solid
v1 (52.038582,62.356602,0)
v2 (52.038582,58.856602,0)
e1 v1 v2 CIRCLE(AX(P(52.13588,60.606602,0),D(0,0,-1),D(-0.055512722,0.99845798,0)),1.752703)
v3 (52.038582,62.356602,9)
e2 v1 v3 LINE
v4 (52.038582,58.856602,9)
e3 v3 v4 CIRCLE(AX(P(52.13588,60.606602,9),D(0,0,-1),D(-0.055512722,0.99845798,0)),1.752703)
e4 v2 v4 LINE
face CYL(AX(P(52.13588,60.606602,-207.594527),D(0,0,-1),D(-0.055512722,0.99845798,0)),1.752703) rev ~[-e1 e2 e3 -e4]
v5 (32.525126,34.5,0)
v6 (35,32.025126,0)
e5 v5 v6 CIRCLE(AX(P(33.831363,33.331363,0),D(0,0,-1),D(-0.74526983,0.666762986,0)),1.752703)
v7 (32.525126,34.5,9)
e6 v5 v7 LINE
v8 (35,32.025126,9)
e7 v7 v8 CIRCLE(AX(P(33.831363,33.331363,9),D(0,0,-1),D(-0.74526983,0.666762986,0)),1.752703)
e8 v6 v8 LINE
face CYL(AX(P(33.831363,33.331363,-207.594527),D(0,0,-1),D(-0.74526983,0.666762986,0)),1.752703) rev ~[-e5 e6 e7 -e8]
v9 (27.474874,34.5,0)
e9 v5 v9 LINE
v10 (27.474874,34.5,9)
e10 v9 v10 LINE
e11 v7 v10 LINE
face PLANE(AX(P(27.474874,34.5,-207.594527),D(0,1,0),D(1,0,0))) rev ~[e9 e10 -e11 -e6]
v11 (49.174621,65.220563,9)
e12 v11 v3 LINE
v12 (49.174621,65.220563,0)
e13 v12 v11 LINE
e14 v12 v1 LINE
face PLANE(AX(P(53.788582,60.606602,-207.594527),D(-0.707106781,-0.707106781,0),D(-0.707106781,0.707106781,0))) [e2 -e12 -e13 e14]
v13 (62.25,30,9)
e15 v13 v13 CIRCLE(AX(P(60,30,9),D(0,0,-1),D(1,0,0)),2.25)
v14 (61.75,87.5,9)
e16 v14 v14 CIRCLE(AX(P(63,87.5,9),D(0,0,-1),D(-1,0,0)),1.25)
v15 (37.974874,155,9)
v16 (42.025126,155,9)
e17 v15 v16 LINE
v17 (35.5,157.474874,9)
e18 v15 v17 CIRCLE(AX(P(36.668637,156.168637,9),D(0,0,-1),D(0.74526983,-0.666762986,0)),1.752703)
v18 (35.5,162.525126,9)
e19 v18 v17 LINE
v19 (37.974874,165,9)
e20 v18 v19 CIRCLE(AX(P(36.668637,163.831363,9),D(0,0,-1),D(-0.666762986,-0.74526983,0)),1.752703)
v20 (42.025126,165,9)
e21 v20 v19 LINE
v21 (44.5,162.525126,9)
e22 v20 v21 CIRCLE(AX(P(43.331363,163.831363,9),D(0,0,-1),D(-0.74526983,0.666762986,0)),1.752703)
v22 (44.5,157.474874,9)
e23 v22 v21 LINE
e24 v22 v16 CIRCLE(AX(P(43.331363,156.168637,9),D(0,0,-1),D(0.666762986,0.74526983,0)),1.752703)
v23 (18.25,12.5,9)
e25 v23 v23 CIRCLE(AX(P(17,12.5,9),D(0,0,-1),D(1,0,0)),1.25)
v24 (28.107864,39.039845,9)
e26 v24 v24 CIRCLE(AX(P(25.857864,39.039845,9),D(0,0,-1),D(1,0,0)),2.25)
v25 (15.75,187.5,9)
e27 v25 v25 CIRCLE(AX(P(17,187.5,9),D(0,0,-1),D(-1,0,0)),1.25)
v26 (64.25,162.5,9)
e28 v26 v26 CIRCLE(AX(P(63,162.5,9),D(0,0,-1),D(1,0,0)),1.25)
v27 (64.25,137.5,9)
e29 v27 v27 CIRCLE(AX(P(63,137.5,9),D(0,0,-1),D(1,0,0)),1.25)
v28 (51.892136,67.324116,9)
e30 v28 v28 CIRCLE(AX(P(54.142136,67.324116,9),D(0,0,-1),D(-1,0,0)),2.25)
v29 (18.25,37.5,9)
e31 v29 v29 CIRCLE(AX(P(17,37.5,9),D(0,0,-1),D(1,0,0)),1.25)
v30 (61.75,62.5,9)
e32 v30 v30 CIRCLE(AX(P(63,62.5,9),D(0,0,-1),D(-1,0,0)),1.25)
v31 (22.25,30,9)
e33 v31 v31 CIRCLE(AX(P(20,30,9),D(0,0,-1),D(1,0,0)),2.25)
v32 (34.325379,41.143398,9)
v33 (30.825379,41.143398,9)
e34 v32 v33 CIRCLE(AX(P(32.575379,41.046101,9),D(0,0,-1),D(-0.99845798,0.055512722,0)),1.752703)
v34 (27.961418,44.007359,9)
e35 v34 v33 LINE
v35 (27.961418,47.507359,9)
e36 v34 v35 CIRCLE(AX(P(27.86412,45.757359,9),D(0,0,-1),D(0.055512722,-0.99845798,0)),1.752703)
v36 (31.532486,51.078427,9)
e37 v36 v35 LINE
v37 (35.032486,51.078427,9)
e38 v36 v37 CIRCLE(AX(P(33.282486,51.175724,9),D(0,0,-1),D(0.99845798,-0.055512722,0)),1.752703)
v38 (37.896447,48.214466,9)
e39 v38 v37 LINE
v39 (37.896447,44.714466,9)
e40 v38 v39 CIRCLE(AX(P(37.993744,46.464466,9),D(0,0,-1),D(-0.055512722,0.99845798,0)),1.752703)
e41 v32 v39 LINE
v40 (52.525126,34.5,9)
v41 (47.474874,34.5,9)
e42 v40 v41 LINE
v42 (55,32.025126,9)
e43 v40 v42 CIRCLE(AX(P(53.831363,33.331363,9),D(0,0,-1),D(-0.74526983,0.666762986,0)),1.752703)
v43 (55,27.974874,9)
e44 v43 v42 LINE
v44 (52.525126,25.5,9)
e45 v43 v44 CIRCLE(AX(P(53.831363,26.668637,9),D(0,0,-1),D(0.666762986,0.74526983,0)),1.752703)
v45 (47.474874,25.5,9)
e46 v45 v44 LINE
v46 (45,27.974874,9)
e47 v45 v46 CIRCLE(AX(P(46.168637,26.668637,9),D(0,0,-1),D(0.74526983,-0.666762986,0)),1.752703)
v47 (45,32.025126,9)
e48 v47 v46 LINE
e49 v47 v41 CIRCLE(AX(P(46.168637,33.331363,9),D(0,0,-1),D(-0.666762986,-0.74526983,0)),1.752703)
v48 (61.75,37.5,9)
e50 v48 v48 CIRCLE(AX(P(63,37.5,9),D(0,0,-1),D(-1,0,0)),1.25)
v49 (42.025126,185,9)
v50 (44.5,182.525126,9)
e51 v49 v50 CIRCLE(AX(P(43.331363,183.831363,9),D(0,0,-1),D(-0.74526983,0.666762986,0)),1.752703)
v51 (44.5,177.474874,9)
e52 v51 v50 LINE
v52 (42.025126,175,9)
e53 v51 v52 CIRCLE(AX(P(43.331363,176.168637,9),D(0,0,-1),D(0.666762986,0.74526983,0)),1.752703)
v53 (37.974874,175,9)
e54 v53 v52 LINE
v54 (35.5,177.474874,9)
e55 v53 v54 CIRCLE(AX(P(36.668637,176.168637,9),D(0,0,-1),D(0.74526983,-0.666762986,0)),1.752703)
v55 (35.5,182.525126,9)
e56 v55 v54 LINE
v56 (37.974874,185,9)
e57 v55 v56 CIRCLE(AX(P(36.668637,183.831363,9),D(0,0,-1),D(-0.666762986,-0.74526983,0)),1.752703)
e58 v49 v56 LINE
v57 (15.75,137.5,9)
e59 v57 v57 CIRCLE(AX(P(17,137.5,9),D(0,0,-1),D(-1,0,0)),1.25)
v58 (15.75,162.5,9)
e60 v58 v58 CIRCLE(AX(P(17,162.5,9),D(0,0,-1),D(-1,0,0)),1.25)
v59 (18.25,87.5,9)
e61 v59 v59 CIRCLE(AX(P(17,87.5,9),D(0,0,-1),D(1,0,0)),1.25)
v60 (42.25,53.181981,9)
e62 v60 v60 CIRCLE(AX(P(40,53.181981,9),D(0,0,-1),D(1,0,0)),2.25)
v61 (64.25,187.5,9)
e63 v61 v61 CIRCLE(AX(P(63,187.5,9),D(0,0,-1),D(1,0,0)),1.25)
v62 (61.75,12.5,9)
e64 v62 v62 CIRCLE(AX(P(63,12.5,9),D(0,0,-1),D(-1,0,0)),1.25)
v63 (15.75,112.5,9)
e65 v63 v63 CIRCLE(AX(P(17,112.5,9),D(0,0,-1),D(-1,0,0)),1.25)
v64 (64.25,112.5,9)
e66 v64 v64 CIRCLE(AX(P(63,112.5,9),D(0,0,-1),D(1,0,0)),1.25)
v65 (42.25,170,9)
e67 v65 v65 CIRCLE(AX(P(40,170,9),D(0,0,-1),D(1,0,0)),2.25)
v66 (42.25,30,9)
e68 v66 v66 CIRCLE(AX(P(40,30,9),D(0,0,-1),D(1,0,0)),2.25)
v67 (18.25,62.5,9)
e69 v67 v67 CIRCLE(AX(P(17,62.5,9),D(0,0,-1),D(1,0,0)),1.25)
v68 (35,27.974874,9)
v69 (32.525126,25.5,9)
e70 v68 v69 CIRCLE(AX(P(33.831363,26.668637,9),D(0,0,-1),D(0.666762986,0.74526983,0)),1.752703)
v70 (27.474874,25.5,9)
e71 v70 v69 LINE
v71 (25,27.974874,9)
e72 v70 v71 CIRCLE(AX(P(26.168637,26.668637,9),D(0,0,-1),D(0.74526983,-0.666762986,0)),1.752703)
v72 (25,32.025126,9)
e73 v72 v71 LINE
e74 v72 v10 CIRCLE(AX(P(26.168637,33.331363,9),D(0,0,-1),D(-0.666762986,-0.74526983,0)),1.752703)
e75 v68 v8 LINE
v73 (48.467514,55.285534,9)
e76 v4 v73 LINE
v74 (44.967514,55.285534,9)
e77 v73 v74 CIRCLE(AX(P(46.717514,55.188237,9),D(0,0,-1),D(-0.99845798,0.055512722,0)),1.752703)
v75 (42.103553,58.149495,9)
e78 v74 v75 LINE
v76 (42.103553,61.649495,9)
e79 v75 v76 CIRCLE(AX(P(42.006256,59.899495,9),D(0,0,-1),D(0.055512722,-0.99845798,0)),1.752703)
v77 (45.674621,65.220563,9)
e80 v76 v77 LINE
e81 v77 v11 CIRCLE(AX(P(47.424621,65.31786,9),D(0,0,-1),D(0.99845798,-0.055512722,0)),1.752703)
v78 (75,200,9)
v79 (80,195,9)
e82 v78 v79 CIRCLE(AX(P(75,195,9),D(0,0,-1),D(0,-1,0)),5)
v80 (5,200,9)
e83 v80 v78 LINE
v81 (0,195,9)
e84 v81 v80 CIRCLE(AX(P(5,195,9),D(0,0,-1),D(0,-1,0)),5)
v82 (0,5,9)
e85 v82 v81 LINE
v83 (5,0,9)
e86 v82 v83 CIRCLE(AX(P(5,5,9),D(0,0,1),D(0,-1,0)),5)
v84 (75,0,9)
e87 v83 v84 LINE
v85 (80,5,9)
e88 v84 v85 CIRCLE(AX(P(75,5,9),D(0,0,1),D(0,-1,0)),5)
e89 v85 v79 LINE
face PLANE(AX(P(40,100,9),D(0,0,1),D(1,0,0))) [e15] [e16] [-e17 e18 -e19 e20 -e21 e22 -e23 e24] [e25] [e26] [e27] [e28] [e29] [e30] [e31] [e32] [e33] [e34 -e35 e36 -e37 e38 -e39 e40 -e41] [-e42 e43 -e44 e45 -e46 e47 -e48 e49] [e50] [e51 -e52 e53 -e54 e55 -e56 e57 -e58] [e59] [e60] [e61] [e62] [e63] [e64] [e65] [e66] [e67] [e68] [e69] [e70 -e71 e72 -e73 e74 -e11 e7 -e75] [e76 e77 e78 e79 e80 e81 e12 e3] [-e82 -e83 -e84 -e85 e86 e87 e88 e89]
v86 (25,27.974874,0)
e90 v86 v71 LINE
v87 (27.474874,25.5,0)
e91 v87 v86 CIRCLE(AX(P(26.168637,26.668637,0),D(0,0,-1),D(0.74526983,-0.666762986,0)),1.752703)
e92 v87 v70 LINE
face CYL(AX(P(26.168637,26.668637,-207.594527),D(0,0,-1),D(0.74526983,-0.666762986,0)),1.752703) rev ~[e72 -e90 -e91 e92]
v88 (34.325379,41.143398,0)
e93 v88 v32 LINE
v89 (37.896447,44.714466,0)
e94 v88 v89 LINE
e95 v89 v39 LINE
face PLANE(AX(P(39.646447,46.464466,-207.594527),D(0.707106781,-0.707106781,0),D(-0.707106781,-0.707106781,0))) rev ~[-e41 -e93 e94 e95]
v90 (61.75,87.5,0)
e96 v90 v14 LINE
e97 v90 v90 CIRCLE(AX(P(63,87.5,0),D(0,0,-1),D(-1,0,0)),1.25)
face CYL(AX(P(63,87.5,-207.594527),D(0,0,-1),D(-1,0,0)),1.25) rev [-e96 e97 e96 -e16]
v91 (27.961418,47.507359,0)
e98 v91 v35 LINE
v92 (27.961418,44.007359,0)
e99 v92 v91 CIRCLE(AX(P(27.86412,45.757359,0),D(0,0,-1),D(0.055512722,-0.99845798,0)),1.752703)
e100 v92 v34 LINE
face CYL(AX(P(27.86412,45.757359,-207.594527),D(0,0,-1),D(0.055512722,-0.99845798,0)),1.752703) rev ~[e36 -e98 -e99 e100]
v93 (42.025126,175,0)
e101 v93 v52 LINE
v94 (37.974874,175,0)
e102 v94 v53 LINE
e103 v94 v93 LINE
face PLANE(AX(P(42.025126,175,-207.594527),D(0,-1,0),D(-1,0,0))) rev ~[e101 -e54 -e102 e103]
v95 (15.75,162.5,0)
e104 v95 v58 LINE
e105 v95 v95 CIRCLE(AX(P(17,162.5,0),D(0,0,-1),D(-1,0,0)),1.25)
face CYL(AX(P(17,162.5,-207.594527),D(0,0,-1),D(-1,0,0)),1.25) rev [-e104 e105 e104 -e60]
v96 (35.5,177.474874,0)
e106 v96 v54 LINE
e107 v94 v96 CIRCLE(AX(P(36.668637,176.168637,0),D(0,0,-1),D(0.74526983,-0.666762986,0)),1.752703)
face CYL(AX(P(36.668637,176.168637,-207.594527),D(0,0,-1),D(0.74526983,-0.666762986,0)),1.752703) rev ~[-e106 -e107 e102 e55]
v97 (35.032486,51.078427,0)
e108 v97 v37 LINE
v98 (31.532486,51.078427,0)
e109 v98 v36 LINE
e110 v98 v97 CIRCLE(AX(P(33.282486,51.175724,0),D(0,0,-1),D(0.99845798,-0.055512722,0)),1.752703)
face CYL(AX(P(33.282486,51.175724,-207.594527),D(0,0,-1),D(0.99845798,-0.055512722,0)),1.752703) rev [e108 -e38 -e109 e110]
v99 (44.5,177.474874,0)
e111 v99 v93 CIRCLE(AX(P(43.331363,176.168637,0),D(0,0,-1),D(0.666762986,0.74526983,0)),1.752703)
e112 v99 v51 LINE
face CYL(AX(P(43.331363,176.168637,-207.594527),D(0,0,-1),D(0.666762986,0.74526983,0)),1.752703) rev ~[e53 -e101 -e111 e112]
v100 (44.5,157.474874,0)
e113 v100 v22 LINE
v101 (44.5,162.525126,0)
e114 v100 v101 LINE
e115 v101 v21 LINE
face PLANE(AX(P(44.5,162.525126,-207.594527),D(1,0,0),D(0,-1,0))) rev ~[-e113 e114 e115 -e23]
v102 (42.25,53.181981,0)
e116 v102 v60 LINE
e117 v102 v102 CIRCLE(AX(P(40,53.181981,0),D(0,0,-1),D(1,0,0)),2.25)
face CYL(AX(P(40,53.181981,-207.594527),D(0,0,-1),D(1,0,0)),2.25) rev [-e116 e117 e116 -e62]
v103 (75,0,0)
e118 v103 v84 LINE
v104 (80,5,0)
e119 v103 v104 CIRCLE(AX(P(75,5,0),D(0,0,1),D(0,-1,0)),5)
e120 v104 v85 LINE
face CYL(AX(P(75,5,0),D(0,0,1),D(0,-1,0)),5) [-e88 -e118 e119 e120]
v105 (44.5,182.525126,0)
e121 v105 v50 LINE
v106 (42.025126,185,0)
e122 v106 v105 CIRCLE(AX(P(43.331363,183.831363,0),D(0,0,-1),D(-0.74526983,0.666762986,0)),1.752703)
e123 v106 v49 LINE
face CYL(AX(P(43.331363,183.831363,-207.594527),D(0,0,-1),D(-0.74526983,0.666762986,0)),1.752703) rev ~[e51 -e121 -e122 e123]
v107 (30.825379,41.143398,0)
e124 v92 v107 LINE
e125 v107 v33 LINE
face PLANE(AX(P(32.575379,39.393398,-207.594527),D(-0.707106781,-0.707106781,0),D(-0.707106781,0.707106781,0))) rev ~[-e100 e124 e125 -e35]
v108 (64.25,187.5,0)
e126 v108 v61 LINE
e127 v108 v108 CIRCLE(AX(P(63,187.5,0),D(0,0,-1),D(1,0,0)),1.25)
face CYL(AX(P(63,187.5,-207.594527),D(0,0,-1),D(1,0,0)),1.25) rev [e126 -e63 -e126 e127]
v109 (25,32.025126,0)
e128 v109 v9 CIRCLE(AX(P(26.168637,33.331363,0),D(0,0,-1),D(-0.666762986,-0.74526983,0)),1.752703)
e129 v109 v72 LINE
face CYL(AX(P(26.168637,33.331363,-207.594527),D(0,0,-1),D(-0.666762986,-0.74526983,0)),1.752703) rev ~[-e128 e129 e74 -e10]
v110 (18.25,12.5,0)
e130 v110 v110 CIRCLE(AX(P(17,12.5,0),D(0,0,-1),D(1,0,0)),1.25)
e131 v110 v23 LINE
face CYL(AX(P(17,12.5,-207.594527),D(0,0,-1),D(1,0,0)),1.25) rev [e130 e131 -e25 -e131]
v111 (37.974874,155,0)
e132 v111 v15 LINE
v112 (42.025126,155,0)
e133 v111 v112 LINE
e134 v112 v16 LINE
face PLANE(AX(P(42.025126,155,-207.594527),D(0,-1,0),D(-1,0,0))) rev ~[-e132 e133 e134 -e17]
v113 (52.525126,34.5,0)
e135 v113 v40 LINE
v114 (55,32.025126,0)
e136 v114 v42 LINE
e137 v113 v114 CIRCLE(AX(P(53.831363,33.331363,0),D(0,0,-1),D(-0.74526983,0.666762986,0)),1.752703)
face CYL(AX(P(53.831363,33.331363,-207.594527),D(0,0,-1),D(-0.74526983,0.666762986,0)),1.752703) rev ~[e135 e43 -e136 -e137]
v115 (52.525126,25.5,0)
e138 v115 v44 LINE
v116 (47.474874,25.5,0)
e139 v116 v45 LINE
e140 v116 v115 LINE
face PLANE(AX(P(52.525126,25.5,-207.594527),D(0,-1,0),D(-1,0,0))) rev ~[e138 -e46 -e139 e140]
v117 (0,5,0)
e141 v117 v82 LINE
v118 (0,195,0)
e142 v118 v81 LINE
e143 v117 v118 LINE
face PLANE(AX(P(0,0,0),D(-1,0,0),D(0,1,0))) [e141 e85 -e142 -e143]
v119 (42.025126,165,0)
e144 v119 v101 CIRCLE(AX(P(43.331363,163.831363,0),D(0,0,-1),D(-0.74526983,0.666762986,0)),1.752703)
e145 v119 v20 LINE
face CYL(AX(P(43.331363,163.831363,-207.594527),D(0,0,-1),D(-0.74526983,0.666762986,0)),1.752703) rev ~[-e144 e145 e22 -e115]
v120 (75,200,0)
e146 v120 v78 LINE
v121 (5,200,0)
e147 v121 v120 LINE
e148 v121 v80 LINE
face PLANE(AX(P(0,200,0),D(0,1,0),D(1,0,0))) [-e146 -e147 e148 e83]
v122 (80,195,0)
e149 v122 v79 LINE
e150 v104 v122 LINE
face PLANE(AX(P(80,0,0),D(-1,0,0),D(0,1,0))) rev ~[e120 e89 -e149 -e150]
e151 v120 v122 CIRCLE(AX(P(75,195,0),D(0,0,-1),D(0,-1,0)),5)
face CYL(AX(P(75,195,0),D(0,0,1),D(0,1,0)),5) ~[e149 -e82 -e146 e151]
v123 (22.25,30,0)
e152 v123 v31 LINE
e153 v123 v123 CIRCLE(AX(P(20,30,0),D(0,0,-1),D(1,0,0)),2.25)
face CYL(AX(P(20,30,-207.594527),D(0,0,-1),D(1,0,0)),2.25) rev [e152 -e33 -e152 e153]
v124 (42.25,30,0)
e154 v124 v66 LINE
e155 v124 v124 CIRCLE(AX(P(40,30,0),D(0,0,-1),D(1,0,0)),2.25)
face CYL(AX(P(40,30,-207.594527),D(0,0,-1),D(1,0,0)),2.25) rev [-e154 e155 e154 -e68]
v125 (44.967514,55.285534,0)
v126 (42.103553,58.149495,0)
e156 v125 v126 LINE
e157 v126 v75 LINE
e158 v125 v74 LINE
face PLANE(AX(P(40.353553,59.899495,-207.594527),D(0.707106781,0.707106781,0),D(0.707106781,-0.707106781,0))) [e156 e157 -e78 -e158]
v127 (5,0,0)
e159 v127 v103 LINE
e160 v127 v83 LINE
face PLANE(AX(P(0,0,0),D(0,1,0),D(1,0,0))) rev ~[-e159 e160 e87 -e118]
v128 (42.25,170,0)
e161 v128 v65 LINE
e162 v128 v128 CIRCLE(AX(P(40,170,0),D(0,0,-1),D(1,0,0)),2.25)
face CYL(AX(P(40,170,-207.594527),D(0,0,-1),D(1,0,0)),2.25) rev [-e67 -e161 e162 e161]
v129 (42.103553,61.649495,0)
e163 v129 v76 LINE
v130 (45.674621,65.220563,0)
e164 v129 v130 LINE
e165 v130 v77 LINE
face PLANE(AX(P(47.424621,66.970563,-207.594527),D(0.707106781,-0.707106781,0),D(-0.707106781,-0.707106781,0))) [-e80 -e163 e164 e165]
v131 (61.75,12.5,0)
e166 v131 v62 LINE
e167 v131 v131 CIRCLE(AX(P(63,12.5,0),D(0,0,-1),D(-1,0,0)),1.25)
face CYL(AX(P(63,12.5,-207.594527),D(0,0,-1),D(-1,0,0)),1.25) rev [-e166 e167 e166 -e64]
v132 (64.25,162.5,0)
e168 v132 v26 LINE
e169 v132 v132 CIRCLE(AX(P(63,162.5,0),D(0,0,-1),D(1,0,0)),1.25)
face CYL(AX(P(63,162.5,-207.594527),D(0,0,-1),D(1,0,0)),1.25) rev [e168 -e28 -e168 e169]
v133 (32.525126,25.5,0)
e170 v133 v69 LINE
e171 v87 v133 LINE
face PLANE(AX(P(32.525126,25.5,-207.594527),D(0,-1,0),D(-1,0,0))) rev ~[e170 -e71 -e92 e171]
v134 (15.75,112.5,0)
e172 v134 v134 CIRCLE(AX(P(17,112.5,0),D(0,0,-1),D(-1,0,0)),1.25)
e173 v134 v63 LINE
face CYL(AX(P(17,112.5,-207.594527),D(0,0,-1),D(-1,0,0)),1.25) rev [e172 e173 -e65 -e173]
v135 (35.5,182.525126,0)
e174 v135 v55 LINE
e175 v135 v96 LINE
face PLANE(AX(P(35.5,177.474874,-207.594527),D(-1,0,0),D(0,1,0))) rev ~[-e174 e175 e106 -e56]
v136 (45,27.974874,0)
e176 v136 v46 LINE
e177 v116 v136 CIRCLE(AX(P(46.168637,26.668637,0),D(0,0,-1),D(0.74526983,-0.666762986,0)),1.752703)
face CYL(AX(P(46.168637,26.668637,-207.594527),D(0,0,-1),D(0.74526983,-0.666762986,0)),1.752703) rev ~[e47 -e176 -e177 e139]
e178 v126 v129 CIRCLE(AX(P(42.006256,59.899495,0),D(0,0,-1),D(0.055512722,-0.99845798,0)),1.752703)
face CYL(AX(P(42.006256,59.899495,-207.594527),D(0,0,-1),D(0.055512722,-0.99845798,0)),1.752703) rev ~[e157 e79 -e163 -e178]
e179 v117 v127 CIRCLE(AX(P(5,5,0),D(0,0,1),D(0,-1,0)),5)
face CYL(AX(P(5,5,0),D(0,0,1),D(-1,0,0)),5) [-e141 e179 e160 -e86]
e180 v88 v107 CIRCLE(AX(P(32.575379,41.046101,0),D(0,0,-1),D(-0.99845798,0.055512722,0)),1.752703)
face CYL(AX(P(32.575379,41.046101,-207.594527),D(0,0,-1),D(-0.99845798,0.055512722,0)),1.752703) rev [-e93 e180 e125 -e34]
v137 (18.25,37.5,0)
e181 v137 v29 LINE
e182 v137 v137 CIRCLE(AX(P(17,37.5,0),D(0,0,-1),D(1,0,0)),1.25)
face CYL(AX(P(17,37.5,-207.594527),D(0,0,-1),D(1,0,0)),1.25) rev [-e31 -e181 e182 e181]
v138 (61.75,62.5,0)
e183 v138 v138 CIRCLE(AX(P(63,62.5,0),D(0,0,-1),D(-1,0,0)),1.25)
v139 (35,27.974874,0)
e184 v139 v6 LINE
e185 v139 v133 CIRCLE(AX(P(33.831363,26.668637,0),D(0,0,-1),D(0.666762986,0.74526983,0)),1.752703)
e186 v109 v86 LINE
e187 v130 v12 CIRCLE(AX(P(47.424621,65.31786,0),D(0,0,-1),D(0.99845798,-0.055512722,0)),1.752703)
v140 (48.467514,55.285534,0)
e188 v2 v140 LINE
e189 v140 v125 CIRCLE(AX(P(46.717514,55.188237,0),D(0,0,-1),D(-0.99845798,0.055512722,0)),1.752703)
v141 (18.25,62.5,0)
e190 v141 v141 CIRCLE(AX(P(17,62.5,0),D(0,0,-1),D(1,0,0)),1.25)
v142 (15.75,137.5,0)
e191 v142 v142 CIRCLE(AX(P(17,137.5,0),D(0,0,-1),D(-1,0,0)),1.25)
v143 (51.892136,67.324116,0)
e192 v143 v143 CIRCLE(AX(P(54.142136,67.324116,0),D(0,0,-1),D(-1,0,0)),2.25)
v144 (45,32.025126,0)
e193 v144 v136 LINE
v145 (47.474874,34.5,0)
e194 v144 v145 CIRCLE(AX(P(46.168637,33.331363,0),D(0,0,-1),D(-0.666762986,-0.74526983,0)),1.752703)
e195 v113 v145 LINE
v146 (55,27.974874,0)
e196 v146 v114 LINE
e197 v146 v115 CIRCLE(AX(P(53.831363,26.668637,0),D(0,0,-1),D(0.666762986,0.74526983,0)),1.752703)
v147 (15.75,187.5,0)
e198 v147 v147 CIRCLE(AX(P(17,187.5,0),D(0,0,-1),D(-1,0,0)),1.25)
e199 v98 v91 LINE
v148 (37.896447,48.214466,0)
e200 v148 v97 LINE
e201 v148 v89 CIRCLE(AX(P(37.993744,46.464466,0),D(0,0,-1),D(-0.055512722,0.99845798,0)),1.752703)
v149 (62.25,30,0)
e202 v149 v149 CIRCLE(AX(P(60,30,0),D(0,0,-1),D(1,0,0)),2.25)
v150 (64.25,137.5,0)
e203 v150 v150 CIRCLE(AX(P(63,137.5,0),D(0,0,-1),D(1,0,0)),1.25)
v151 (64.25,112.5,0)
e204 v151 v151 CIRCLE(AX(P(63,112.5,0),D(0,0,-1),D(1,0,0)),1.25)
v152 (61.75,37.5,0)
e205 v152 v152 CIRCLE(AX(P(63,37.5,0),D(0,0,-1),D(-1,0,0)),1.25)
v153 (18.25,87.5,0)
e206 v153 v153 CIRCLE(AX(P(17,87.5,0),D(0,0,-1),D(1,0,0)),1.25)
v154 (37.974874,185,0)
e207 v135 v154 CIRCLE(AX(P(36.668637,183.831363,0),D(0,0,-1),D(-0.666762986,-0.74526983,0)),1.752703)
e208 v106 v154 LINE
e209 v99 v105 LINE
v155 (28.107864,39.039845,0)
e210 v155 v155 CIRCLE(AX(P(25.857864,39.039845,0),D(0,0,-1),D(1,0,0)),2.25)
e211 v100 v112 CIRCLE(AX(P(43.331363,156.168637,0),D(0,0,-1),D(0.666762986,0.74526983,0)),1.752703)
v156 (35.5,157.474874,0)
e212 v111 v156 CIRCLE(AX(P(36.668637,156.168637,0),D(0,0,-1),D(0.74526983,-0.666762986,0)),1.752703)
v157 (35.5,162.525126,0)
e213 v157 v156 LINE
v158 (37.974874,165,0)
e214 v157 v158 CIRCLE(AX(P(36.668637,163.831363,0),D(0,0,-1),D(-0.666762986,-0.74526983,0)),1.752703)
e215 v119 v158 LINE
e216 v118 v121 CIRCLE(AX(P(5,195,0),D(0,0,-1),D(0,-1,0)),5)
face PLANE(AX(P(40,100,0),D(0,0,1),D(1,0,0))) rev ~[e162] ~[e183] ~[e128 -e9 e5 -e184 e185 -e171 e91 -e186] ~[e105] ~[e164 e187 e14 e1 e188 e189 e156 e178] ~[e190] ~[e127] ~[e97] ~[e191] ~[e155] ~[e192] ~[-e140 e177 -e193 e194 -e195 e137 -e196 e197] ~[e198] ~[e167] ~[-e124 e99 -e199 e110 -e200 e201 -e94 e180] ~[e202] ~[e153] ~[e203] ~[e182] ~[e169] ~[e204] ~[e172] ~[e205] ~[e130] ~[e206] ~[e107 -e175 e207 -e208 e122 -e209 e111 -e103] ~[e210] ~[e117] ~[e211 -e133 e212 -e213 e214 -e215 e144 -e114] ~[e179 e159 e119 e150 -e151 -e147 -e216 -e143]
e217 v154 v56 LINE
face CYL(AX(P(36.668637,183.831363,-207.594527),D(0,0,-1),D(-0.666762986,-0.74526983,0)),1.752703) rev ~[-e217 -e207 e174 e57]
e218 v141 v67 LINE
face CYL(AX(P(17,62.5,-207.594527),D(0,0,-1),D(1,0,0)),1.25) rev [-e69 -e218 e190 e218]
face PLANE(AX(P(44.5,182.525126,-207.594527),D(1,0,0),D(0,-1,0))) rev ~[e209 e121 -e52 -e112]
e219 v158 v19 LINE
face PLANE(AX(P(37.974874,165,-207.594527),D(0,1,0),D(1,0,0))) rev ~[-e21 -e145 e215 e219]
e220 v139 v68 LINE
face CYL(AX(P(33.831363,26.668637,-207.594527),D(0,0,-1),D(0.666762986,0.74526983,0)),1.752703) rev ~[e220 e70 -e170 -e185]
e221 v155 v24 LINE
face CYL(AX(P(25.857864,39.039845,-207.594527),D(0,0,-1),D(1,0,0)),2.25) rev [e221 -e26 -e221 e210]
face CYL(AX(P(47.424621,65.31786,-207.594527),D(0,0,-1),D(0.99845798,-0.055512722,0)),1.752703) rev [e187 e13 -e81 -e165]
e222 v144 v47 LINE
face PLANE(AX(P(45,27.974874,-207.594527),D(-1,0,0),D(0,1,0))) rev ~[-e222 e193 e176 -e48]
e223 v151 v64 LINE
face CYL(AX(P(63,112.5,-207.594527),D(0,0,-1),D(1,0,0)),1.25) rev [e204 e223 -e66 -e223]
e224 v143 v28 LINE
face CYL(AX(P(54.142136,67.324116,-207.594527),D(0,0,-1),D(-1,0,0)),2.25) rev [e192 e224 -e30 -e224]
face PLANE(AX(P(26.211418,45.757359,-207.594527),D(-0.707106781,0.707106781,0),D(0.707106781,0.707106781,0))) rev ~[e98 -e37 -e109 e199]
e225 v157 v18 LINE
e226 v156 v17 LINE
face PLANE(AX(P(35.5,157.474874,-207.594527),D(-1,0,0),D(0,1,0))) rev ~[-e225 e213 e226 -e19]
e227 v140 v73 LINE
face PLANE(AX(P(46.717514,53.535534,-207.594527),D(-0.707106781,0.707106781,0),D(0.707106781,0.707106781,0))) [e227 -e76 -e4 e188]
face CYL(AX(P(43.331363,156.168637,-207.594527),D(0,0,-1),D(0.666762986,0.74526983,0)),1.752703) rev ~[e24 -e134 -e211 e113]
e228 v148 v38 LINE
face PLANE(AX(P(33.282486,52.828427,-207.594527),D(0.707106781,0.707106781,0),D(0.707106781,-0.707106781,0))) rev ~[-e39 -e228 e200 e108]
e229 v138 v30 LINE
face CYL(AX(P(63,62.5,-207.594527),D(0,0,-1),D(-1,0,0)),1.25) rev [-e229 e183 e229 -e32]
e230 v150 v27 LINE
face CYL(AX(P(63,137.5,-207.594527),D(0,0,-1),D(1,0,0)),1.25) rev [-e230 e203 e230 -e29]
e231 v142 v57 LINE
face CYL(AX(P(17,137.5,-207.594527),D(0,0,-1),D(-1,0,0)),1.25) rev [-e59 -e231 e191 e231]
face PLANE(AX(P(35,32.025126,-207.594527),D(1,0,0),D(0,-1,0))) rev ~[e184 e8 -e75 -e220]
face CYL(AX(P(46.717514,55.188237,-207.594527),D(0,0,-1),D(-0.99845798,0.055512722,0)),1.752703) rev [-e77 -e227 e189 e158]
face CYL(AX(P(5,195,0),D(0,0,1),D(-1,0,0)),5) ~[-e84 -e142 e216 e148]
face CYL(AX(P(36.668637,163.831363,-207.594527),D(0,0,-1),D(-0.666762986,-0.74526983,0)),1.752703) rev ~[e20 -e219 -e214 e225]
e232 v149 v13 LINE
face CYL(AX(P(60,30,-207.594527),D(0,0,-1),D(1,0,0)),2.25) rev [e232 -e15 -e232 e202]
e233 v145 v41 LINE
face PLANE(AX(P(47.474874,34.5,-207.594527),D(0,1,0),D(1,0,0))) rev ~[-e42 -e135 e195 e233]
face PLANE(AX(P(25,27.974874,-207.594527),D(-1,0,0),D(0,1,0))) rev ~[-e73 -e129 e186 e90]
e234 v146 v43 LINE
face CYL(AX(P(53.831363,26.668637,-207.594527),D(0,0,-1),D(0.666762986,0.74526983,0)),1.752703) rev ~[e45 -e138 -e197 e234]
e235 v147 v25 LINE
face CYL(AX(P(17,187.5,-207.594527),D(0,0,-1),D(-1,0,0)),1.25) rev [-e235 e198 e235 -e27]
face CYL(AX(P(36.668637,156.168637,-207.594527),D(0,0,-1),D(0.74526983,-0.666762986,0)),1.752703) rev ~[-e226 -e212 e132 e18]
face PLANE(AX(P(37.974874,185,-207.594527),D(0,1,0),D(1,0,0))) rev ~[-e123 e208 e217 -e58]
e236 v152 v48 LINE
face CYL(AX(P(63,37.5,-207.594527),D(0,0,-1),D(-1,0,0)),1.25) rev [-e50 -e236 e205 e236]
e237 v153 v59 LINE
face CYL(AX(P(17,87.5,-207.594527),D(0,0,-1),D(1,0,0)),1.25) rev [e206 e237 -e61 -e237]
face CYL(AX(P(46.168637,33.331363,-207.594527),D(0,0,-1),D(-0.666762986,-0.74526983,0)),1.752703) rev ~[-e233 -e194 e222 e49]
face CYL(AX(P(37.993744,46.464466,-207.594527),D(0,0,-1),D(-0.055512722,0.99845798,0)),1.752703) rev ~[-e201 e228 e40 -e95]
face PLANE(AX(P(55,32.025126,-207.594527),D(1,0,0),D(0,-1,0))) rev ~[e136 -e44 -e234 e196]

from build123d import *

# Parameters (mm, degrees)
ESQUISSE1_W                  = 80
ESQUISSE1_H                  = 200
BOSS_EXTRU_1_DEPTH           = 9
ENL_V_MAT_EXTRU_1_DEPTH      = 216.594526832
ENL_V_MAT_EXTRU_1_DEPTH_BACK = 216.594526832
ESQUISSE2_R                  = 1.25
ENL_V_MAT_EXTRU_2_DEPTH      = 216.594526832
ENL_V_MAT_EXTRU_2_DEPTH_BACK = 216.594526832
CONG_1_R                     = 5
ENL_V_MAT_EXTRU_3_DEPTH      = 216.594526832
ENL_V_MAT_EXTRU_3_DEPTH_BACK = 216.594526832
ESQUISSE4_R                  = 2.25
ENL_V_MAT_EXTRU_4_DEPTH      = 216.594526832
ENL_V_MAT_EXTRU_4_DEPTH_BACK = 216.594526832
ESQUISSE5_R                  = 2.25


with BuildPart() as part:
    # Esquisse1 → Boss.-Extru.1 (new body)
    with BuildSketch(Plane.XY):
        with Locations((40, 100)):
            Rectangle(ESQUISSE1_W, ESQUISSE1_H)
    extrude(amount=BOSS_EXTRU_1_DEPTH)

    # Esquisse2 → Enlèv. mat.-Extru.1 (cut, two sides: drawn at the far end of the back side and taken through both)
    with BuildSketch(Plane.XY.offset(9).offset(-ENL_V_MAT_EXTRU_1_DEPTH_BACK)):
        with Locations(Location((17, 187.5, 0), (0, 0, 180))):
            Circle(ESQUISSE2_R)
        with Locations((17, 87.5)):
            Circle(ESQUISSE2_R)
        with Locations((17, 62.5)):
            Circle(ESQUISSE2_R)
        with Locations((17, 37.5)):
            Circle(ESQUISSE2_R)
        with Locations((17, 12.5)):
            Circle(ESQUISSE2_R)
        with Locations(Location((17, 162.5, 0), (0, 0, 180))):
            Circle(ESQUISSE2_R)
        with Locations(Location((17, 137.5, 0), (0, 0, 180))):
            Circle(ESQUISSE2_R)
        with Locations(Location((17, 112.5, 0), (0, 0, 180))):
            Circle(ESQUISSE2_R)
        with Locations((63, 112.5)):
            Circle(ESQUISSE2_R)
        with Locations((63, 137.5)):
            Circle(ESQUISSE2_R)
        with Locations((63, 162.5)):
            Circle(ESQUISSE2_R)
        with Locations(Location((63, 12.5, 0), (0, 0, 180))):
            Circle(ESQUISSE2_R)
        with Locations(Location((63, 37.5, 0), (0, 0, 180))):
            Circle(ESQUISSE2_R)
        with Locations(Location((63, 62.5, 0), (0, 0, 180))):
            Circle(ESQUISSE2_R)
        with Locations(Location((63, 87.5, 0), (0, 0, 180))):
            Circle(ESQUISSE2_R)
        with Locations((63, 187.5)):
            Circle(ESQUISSE2_R)
    extrude(amount=ENL_V_MAT_EXTRU_1_DEPTH + ENL_V_MAT_EXTRU_1_DEPTH_BACK, mode=Mode.SUBTRACT)

    # Esquisse3 → Enlèv. mat.-Extru.2 (cut, two sides: drawn at the far end of the back side and taken through both)
    with BuildSketch(Plane.XY.offset(9).offset(-ENL_V_MAT_EXTRU_2_DEPTH_BACK)):
        Polygon((46.717514421, 53.535533906), (53.788582233, 60.606601718), (47.424621202, 66.970562748), (40.353553391, 59.899494937), align=None)
        Polygon((33.282485579, 52.828427125), (39.646446609, 46.464466094), (32.575378798, 39.393398282), (26.211417767, 45.757359313), align=None)
    extrude(amount=ENL_V_MAT_EXTRU_2_DEPTH + ENL_V_MAT_EXTRU_2_DEPTH_BACK, mode=Mode.SUBTRACT)

    # Congé1
    cong_1_edges = [part.edges().sort_by_distance(p)[0] for p in [
        (0, 200, 4.5),
        (80, 200, 4.5),
        (80, 0, 4.5),
        (0, 0, 4.5),
    ]]
    fillet(cong_1_edges, radius=CONG_1_R)

    # Esquisse4 → Enlèv. mat.-Extru.3 (cut, two sides: drawn at the far end of the back side and taken through both)
    with BuildSketch(Plane.XY.offset(9).offset(-ENL_V_MAT_EXTRU_3_DEPTH_BACK)):
        with Locations((40, 53.181980515)):
            Circle(ESQUISSE4_R)
        with Locations((25.857864376, 39.039844892)):
            Circle(ESQUISSE4_R)
        with Locations(Location((54.142135624, 67.324116139, 0), (0, 0, 180))):
            Circle(ESQUISSE4_R)
        with BuildLine():
            Line((27.961417767, 47.507359313), (27.961417767, 44.007359313))
            ThreePointArc((27.961417767, 44.007359313), (26.111417767, 45.757359313), (27.961417767, 47.507359313))
        make_face()
        with BuildLine():
            Line((31.532485579, 51.078427125), (35.032485579, 51.078427125))
            ThreePointArc((35.032485579, 51.078427125), (33.282485579, 52.928427125), (31.532485579, 51.078427125))
        make_face()
        with BuildLine():
            Line((37.896446609, 44.714466094), (37.896446609, 48.214466094))
            ThreePointArc((37.896446609, 48.214466094), (39.746446609, 46.464466094), (37.896446609, 44.714466094))
        make_face()
        with BuildLine():
            Line((34.325378798, 41.143398282), (30.825378798, 41.143398282))
            ThreePointArc((30.825378798, 41.143398282), (32.575378798, 39.293398282), (34.325378798, 41.143398282))
        make_face()
        with BuildLine():
            Line((52.038582233, 58.856601718), (52.038582233, 62.356601718))
            ThreePointArc((52.038582233, 62.356601718), (53.888582233, 60.606601718), (52.038582233, 58.856601718))
        make_face()
        with BuildLine():
            Line((48.467514421, 55.285533906), (44.967514421, 55.285533906))
            ThreePointArc((44.967514421, 55.285533906), (46.717514421, 53.435533906), (48.467514421, 55.285533906))
        make_face()
        with BuildLine():
            Line((42.103553391, 61.649494937), (42.103553391, 58.149494937))
            ThreePointArc((42.103553391, 58.149494937), (40.253553391, 59.899494937), (42.103553391, 61.649494937))
        make_face()
        with BuildLine():
            Line((45.674621202, 65.220562748), (49.174621202, 65.220562748))
            ThreePointArc((49.174621202, 65.220562748), (47.424621202, 67.070562748), (45.674621202, 65.220562748))
        make_face()
    extrude(amount=ENL_V_MAT_EXTRU_3_DEPTH + ENL_V_MAT_EXTRU_3_DEPTH_BACK, mode=Mode.SUBTRACT)

    # Esquisse5 → Enlèv. mat.-Extru.4 (cut, two sides: drawn at the far end of the back side and taken through both)
    with BuildSketch(Plane.XY.offset(9).offset(-ENL_V_MAT_EXTRU_4_DEPTH_BACK)):
        with Locations((60, 30)):
            Circle(ESQUISSE5_R)
        with Locations((40, 30)):
            Circle(ESQUISSE5_R)
        with Locations((20, 30)):
            Circle(ESQUISSE5_R)
        with Locations((40, 170)):
            Circle(ESQUISSE5_R)
        with BuildLine():
            Line((52.525126266, 25.5), (47.474873734, 25.5))
            ThreePointArc((47.474873734, 25.5), (44.929289322, 25.429289322), (45, 27.974873734))
            Line((45, 27.974873734), (45, 32.025126266))
            ThreePointArc((45, 32.025126266), (44.929289322, 34.570710678), (47.474873734, 34.5))
            Line((47.474873734, 34.5), (52.525126266, 34.5))
            ThreePointArc((52.525126266, 34.5), (55.070710678, 34.570710678), (55, 32.025126266))
            Line((55, 32.025126266), (55, 27.974873734))
            ThreePointArc((55, 27.974873734), (55.070710678, 25.429289322), (52.525126266, 25.5))
        make_face()
        with BuildLine():
            Line((32.525126266, 25.5), (27.474873734, 25.5))
            ThreePointArc((27.474873734, 25.5), (24.929289322, 25.429289322), (25, 27.974873734))
            Line((25, 27.974873734), (25, 32.025126266))
            ThreePointArc((25, 32.025126266), (24.929289322, 34.570710678), (27.474873734, 34.5))
            Line((27.474873734, 34.5), (32.525126266, 34.5))
            ThreePointArc((32.525126266, 34.5), (35.070710678, 34.570710678), (35, 32.025126266))
            Line((35, 32.025126266), (35, 27.974873734))
            ThreePointArc((35, 27.974873734), (35.070710678, 25.429289322), (32.525126266, 25.5))
        make_face()
        with BuildLine():
            Line((44.5, 182.525126266), (44.5, 177.474873734))
            ThreePointArc((44.5, 177.474873734), (44.570710678, 174.929289322), (42.025126266, 175))
            Line((42.025126266, 175), (37.974873734, 175))
            ThreePointArc((37.974873734, 175), (35.429289322, 174.929289322), (35.5, 177.474873734))
            Line((35.5, 177.474873734), (35.5, 182.525126266))
            ThreePointArc((35.5, 182.525126266), (35.429289322, 185.070710678), (37.974873734, 185))
            Line((37.974873734, 185), (42.025126266, 185))
            ThreePointArc((42.025126266, 185), (44.570710678, 185.070710678), (44.5, 182.525126266))
        make_face()
        with BuildLine():
            Line((44.5, 162.525126266), (44.5, 157.474873734))
            ThreePointArc((44.5, 157.474873734), (44.570710678, 154.929289322), (42.025126266, 155))
            Line((42.025126266, 155), (37.974873734, 155))
            ThreePointArc((37.974873734, 155), (35.429289322, 154.929289322), (35.5, 157.474873734))
            Line((35.5, 157.474873734), (35.5, 162.525126266))
            ThreePointArc((35.5, 162.525126266), (35.429289322, 165.070710678), (37.974873734, 165))
            Line((37.974873734, 165), (42.025126266, 165))
            ThreePointArc((42.025126266, 165), (44.570710678, 165.070710678), (44.5, 162.525126266))
        make_face()
    extrude(amount=ENL_V_MAT_EXTRU_4_DEPTH + ENL_V_MAT_EXTRU_4_DEPTH_BACK, mode=Mode.SUBTRACT)


solid = part.part
